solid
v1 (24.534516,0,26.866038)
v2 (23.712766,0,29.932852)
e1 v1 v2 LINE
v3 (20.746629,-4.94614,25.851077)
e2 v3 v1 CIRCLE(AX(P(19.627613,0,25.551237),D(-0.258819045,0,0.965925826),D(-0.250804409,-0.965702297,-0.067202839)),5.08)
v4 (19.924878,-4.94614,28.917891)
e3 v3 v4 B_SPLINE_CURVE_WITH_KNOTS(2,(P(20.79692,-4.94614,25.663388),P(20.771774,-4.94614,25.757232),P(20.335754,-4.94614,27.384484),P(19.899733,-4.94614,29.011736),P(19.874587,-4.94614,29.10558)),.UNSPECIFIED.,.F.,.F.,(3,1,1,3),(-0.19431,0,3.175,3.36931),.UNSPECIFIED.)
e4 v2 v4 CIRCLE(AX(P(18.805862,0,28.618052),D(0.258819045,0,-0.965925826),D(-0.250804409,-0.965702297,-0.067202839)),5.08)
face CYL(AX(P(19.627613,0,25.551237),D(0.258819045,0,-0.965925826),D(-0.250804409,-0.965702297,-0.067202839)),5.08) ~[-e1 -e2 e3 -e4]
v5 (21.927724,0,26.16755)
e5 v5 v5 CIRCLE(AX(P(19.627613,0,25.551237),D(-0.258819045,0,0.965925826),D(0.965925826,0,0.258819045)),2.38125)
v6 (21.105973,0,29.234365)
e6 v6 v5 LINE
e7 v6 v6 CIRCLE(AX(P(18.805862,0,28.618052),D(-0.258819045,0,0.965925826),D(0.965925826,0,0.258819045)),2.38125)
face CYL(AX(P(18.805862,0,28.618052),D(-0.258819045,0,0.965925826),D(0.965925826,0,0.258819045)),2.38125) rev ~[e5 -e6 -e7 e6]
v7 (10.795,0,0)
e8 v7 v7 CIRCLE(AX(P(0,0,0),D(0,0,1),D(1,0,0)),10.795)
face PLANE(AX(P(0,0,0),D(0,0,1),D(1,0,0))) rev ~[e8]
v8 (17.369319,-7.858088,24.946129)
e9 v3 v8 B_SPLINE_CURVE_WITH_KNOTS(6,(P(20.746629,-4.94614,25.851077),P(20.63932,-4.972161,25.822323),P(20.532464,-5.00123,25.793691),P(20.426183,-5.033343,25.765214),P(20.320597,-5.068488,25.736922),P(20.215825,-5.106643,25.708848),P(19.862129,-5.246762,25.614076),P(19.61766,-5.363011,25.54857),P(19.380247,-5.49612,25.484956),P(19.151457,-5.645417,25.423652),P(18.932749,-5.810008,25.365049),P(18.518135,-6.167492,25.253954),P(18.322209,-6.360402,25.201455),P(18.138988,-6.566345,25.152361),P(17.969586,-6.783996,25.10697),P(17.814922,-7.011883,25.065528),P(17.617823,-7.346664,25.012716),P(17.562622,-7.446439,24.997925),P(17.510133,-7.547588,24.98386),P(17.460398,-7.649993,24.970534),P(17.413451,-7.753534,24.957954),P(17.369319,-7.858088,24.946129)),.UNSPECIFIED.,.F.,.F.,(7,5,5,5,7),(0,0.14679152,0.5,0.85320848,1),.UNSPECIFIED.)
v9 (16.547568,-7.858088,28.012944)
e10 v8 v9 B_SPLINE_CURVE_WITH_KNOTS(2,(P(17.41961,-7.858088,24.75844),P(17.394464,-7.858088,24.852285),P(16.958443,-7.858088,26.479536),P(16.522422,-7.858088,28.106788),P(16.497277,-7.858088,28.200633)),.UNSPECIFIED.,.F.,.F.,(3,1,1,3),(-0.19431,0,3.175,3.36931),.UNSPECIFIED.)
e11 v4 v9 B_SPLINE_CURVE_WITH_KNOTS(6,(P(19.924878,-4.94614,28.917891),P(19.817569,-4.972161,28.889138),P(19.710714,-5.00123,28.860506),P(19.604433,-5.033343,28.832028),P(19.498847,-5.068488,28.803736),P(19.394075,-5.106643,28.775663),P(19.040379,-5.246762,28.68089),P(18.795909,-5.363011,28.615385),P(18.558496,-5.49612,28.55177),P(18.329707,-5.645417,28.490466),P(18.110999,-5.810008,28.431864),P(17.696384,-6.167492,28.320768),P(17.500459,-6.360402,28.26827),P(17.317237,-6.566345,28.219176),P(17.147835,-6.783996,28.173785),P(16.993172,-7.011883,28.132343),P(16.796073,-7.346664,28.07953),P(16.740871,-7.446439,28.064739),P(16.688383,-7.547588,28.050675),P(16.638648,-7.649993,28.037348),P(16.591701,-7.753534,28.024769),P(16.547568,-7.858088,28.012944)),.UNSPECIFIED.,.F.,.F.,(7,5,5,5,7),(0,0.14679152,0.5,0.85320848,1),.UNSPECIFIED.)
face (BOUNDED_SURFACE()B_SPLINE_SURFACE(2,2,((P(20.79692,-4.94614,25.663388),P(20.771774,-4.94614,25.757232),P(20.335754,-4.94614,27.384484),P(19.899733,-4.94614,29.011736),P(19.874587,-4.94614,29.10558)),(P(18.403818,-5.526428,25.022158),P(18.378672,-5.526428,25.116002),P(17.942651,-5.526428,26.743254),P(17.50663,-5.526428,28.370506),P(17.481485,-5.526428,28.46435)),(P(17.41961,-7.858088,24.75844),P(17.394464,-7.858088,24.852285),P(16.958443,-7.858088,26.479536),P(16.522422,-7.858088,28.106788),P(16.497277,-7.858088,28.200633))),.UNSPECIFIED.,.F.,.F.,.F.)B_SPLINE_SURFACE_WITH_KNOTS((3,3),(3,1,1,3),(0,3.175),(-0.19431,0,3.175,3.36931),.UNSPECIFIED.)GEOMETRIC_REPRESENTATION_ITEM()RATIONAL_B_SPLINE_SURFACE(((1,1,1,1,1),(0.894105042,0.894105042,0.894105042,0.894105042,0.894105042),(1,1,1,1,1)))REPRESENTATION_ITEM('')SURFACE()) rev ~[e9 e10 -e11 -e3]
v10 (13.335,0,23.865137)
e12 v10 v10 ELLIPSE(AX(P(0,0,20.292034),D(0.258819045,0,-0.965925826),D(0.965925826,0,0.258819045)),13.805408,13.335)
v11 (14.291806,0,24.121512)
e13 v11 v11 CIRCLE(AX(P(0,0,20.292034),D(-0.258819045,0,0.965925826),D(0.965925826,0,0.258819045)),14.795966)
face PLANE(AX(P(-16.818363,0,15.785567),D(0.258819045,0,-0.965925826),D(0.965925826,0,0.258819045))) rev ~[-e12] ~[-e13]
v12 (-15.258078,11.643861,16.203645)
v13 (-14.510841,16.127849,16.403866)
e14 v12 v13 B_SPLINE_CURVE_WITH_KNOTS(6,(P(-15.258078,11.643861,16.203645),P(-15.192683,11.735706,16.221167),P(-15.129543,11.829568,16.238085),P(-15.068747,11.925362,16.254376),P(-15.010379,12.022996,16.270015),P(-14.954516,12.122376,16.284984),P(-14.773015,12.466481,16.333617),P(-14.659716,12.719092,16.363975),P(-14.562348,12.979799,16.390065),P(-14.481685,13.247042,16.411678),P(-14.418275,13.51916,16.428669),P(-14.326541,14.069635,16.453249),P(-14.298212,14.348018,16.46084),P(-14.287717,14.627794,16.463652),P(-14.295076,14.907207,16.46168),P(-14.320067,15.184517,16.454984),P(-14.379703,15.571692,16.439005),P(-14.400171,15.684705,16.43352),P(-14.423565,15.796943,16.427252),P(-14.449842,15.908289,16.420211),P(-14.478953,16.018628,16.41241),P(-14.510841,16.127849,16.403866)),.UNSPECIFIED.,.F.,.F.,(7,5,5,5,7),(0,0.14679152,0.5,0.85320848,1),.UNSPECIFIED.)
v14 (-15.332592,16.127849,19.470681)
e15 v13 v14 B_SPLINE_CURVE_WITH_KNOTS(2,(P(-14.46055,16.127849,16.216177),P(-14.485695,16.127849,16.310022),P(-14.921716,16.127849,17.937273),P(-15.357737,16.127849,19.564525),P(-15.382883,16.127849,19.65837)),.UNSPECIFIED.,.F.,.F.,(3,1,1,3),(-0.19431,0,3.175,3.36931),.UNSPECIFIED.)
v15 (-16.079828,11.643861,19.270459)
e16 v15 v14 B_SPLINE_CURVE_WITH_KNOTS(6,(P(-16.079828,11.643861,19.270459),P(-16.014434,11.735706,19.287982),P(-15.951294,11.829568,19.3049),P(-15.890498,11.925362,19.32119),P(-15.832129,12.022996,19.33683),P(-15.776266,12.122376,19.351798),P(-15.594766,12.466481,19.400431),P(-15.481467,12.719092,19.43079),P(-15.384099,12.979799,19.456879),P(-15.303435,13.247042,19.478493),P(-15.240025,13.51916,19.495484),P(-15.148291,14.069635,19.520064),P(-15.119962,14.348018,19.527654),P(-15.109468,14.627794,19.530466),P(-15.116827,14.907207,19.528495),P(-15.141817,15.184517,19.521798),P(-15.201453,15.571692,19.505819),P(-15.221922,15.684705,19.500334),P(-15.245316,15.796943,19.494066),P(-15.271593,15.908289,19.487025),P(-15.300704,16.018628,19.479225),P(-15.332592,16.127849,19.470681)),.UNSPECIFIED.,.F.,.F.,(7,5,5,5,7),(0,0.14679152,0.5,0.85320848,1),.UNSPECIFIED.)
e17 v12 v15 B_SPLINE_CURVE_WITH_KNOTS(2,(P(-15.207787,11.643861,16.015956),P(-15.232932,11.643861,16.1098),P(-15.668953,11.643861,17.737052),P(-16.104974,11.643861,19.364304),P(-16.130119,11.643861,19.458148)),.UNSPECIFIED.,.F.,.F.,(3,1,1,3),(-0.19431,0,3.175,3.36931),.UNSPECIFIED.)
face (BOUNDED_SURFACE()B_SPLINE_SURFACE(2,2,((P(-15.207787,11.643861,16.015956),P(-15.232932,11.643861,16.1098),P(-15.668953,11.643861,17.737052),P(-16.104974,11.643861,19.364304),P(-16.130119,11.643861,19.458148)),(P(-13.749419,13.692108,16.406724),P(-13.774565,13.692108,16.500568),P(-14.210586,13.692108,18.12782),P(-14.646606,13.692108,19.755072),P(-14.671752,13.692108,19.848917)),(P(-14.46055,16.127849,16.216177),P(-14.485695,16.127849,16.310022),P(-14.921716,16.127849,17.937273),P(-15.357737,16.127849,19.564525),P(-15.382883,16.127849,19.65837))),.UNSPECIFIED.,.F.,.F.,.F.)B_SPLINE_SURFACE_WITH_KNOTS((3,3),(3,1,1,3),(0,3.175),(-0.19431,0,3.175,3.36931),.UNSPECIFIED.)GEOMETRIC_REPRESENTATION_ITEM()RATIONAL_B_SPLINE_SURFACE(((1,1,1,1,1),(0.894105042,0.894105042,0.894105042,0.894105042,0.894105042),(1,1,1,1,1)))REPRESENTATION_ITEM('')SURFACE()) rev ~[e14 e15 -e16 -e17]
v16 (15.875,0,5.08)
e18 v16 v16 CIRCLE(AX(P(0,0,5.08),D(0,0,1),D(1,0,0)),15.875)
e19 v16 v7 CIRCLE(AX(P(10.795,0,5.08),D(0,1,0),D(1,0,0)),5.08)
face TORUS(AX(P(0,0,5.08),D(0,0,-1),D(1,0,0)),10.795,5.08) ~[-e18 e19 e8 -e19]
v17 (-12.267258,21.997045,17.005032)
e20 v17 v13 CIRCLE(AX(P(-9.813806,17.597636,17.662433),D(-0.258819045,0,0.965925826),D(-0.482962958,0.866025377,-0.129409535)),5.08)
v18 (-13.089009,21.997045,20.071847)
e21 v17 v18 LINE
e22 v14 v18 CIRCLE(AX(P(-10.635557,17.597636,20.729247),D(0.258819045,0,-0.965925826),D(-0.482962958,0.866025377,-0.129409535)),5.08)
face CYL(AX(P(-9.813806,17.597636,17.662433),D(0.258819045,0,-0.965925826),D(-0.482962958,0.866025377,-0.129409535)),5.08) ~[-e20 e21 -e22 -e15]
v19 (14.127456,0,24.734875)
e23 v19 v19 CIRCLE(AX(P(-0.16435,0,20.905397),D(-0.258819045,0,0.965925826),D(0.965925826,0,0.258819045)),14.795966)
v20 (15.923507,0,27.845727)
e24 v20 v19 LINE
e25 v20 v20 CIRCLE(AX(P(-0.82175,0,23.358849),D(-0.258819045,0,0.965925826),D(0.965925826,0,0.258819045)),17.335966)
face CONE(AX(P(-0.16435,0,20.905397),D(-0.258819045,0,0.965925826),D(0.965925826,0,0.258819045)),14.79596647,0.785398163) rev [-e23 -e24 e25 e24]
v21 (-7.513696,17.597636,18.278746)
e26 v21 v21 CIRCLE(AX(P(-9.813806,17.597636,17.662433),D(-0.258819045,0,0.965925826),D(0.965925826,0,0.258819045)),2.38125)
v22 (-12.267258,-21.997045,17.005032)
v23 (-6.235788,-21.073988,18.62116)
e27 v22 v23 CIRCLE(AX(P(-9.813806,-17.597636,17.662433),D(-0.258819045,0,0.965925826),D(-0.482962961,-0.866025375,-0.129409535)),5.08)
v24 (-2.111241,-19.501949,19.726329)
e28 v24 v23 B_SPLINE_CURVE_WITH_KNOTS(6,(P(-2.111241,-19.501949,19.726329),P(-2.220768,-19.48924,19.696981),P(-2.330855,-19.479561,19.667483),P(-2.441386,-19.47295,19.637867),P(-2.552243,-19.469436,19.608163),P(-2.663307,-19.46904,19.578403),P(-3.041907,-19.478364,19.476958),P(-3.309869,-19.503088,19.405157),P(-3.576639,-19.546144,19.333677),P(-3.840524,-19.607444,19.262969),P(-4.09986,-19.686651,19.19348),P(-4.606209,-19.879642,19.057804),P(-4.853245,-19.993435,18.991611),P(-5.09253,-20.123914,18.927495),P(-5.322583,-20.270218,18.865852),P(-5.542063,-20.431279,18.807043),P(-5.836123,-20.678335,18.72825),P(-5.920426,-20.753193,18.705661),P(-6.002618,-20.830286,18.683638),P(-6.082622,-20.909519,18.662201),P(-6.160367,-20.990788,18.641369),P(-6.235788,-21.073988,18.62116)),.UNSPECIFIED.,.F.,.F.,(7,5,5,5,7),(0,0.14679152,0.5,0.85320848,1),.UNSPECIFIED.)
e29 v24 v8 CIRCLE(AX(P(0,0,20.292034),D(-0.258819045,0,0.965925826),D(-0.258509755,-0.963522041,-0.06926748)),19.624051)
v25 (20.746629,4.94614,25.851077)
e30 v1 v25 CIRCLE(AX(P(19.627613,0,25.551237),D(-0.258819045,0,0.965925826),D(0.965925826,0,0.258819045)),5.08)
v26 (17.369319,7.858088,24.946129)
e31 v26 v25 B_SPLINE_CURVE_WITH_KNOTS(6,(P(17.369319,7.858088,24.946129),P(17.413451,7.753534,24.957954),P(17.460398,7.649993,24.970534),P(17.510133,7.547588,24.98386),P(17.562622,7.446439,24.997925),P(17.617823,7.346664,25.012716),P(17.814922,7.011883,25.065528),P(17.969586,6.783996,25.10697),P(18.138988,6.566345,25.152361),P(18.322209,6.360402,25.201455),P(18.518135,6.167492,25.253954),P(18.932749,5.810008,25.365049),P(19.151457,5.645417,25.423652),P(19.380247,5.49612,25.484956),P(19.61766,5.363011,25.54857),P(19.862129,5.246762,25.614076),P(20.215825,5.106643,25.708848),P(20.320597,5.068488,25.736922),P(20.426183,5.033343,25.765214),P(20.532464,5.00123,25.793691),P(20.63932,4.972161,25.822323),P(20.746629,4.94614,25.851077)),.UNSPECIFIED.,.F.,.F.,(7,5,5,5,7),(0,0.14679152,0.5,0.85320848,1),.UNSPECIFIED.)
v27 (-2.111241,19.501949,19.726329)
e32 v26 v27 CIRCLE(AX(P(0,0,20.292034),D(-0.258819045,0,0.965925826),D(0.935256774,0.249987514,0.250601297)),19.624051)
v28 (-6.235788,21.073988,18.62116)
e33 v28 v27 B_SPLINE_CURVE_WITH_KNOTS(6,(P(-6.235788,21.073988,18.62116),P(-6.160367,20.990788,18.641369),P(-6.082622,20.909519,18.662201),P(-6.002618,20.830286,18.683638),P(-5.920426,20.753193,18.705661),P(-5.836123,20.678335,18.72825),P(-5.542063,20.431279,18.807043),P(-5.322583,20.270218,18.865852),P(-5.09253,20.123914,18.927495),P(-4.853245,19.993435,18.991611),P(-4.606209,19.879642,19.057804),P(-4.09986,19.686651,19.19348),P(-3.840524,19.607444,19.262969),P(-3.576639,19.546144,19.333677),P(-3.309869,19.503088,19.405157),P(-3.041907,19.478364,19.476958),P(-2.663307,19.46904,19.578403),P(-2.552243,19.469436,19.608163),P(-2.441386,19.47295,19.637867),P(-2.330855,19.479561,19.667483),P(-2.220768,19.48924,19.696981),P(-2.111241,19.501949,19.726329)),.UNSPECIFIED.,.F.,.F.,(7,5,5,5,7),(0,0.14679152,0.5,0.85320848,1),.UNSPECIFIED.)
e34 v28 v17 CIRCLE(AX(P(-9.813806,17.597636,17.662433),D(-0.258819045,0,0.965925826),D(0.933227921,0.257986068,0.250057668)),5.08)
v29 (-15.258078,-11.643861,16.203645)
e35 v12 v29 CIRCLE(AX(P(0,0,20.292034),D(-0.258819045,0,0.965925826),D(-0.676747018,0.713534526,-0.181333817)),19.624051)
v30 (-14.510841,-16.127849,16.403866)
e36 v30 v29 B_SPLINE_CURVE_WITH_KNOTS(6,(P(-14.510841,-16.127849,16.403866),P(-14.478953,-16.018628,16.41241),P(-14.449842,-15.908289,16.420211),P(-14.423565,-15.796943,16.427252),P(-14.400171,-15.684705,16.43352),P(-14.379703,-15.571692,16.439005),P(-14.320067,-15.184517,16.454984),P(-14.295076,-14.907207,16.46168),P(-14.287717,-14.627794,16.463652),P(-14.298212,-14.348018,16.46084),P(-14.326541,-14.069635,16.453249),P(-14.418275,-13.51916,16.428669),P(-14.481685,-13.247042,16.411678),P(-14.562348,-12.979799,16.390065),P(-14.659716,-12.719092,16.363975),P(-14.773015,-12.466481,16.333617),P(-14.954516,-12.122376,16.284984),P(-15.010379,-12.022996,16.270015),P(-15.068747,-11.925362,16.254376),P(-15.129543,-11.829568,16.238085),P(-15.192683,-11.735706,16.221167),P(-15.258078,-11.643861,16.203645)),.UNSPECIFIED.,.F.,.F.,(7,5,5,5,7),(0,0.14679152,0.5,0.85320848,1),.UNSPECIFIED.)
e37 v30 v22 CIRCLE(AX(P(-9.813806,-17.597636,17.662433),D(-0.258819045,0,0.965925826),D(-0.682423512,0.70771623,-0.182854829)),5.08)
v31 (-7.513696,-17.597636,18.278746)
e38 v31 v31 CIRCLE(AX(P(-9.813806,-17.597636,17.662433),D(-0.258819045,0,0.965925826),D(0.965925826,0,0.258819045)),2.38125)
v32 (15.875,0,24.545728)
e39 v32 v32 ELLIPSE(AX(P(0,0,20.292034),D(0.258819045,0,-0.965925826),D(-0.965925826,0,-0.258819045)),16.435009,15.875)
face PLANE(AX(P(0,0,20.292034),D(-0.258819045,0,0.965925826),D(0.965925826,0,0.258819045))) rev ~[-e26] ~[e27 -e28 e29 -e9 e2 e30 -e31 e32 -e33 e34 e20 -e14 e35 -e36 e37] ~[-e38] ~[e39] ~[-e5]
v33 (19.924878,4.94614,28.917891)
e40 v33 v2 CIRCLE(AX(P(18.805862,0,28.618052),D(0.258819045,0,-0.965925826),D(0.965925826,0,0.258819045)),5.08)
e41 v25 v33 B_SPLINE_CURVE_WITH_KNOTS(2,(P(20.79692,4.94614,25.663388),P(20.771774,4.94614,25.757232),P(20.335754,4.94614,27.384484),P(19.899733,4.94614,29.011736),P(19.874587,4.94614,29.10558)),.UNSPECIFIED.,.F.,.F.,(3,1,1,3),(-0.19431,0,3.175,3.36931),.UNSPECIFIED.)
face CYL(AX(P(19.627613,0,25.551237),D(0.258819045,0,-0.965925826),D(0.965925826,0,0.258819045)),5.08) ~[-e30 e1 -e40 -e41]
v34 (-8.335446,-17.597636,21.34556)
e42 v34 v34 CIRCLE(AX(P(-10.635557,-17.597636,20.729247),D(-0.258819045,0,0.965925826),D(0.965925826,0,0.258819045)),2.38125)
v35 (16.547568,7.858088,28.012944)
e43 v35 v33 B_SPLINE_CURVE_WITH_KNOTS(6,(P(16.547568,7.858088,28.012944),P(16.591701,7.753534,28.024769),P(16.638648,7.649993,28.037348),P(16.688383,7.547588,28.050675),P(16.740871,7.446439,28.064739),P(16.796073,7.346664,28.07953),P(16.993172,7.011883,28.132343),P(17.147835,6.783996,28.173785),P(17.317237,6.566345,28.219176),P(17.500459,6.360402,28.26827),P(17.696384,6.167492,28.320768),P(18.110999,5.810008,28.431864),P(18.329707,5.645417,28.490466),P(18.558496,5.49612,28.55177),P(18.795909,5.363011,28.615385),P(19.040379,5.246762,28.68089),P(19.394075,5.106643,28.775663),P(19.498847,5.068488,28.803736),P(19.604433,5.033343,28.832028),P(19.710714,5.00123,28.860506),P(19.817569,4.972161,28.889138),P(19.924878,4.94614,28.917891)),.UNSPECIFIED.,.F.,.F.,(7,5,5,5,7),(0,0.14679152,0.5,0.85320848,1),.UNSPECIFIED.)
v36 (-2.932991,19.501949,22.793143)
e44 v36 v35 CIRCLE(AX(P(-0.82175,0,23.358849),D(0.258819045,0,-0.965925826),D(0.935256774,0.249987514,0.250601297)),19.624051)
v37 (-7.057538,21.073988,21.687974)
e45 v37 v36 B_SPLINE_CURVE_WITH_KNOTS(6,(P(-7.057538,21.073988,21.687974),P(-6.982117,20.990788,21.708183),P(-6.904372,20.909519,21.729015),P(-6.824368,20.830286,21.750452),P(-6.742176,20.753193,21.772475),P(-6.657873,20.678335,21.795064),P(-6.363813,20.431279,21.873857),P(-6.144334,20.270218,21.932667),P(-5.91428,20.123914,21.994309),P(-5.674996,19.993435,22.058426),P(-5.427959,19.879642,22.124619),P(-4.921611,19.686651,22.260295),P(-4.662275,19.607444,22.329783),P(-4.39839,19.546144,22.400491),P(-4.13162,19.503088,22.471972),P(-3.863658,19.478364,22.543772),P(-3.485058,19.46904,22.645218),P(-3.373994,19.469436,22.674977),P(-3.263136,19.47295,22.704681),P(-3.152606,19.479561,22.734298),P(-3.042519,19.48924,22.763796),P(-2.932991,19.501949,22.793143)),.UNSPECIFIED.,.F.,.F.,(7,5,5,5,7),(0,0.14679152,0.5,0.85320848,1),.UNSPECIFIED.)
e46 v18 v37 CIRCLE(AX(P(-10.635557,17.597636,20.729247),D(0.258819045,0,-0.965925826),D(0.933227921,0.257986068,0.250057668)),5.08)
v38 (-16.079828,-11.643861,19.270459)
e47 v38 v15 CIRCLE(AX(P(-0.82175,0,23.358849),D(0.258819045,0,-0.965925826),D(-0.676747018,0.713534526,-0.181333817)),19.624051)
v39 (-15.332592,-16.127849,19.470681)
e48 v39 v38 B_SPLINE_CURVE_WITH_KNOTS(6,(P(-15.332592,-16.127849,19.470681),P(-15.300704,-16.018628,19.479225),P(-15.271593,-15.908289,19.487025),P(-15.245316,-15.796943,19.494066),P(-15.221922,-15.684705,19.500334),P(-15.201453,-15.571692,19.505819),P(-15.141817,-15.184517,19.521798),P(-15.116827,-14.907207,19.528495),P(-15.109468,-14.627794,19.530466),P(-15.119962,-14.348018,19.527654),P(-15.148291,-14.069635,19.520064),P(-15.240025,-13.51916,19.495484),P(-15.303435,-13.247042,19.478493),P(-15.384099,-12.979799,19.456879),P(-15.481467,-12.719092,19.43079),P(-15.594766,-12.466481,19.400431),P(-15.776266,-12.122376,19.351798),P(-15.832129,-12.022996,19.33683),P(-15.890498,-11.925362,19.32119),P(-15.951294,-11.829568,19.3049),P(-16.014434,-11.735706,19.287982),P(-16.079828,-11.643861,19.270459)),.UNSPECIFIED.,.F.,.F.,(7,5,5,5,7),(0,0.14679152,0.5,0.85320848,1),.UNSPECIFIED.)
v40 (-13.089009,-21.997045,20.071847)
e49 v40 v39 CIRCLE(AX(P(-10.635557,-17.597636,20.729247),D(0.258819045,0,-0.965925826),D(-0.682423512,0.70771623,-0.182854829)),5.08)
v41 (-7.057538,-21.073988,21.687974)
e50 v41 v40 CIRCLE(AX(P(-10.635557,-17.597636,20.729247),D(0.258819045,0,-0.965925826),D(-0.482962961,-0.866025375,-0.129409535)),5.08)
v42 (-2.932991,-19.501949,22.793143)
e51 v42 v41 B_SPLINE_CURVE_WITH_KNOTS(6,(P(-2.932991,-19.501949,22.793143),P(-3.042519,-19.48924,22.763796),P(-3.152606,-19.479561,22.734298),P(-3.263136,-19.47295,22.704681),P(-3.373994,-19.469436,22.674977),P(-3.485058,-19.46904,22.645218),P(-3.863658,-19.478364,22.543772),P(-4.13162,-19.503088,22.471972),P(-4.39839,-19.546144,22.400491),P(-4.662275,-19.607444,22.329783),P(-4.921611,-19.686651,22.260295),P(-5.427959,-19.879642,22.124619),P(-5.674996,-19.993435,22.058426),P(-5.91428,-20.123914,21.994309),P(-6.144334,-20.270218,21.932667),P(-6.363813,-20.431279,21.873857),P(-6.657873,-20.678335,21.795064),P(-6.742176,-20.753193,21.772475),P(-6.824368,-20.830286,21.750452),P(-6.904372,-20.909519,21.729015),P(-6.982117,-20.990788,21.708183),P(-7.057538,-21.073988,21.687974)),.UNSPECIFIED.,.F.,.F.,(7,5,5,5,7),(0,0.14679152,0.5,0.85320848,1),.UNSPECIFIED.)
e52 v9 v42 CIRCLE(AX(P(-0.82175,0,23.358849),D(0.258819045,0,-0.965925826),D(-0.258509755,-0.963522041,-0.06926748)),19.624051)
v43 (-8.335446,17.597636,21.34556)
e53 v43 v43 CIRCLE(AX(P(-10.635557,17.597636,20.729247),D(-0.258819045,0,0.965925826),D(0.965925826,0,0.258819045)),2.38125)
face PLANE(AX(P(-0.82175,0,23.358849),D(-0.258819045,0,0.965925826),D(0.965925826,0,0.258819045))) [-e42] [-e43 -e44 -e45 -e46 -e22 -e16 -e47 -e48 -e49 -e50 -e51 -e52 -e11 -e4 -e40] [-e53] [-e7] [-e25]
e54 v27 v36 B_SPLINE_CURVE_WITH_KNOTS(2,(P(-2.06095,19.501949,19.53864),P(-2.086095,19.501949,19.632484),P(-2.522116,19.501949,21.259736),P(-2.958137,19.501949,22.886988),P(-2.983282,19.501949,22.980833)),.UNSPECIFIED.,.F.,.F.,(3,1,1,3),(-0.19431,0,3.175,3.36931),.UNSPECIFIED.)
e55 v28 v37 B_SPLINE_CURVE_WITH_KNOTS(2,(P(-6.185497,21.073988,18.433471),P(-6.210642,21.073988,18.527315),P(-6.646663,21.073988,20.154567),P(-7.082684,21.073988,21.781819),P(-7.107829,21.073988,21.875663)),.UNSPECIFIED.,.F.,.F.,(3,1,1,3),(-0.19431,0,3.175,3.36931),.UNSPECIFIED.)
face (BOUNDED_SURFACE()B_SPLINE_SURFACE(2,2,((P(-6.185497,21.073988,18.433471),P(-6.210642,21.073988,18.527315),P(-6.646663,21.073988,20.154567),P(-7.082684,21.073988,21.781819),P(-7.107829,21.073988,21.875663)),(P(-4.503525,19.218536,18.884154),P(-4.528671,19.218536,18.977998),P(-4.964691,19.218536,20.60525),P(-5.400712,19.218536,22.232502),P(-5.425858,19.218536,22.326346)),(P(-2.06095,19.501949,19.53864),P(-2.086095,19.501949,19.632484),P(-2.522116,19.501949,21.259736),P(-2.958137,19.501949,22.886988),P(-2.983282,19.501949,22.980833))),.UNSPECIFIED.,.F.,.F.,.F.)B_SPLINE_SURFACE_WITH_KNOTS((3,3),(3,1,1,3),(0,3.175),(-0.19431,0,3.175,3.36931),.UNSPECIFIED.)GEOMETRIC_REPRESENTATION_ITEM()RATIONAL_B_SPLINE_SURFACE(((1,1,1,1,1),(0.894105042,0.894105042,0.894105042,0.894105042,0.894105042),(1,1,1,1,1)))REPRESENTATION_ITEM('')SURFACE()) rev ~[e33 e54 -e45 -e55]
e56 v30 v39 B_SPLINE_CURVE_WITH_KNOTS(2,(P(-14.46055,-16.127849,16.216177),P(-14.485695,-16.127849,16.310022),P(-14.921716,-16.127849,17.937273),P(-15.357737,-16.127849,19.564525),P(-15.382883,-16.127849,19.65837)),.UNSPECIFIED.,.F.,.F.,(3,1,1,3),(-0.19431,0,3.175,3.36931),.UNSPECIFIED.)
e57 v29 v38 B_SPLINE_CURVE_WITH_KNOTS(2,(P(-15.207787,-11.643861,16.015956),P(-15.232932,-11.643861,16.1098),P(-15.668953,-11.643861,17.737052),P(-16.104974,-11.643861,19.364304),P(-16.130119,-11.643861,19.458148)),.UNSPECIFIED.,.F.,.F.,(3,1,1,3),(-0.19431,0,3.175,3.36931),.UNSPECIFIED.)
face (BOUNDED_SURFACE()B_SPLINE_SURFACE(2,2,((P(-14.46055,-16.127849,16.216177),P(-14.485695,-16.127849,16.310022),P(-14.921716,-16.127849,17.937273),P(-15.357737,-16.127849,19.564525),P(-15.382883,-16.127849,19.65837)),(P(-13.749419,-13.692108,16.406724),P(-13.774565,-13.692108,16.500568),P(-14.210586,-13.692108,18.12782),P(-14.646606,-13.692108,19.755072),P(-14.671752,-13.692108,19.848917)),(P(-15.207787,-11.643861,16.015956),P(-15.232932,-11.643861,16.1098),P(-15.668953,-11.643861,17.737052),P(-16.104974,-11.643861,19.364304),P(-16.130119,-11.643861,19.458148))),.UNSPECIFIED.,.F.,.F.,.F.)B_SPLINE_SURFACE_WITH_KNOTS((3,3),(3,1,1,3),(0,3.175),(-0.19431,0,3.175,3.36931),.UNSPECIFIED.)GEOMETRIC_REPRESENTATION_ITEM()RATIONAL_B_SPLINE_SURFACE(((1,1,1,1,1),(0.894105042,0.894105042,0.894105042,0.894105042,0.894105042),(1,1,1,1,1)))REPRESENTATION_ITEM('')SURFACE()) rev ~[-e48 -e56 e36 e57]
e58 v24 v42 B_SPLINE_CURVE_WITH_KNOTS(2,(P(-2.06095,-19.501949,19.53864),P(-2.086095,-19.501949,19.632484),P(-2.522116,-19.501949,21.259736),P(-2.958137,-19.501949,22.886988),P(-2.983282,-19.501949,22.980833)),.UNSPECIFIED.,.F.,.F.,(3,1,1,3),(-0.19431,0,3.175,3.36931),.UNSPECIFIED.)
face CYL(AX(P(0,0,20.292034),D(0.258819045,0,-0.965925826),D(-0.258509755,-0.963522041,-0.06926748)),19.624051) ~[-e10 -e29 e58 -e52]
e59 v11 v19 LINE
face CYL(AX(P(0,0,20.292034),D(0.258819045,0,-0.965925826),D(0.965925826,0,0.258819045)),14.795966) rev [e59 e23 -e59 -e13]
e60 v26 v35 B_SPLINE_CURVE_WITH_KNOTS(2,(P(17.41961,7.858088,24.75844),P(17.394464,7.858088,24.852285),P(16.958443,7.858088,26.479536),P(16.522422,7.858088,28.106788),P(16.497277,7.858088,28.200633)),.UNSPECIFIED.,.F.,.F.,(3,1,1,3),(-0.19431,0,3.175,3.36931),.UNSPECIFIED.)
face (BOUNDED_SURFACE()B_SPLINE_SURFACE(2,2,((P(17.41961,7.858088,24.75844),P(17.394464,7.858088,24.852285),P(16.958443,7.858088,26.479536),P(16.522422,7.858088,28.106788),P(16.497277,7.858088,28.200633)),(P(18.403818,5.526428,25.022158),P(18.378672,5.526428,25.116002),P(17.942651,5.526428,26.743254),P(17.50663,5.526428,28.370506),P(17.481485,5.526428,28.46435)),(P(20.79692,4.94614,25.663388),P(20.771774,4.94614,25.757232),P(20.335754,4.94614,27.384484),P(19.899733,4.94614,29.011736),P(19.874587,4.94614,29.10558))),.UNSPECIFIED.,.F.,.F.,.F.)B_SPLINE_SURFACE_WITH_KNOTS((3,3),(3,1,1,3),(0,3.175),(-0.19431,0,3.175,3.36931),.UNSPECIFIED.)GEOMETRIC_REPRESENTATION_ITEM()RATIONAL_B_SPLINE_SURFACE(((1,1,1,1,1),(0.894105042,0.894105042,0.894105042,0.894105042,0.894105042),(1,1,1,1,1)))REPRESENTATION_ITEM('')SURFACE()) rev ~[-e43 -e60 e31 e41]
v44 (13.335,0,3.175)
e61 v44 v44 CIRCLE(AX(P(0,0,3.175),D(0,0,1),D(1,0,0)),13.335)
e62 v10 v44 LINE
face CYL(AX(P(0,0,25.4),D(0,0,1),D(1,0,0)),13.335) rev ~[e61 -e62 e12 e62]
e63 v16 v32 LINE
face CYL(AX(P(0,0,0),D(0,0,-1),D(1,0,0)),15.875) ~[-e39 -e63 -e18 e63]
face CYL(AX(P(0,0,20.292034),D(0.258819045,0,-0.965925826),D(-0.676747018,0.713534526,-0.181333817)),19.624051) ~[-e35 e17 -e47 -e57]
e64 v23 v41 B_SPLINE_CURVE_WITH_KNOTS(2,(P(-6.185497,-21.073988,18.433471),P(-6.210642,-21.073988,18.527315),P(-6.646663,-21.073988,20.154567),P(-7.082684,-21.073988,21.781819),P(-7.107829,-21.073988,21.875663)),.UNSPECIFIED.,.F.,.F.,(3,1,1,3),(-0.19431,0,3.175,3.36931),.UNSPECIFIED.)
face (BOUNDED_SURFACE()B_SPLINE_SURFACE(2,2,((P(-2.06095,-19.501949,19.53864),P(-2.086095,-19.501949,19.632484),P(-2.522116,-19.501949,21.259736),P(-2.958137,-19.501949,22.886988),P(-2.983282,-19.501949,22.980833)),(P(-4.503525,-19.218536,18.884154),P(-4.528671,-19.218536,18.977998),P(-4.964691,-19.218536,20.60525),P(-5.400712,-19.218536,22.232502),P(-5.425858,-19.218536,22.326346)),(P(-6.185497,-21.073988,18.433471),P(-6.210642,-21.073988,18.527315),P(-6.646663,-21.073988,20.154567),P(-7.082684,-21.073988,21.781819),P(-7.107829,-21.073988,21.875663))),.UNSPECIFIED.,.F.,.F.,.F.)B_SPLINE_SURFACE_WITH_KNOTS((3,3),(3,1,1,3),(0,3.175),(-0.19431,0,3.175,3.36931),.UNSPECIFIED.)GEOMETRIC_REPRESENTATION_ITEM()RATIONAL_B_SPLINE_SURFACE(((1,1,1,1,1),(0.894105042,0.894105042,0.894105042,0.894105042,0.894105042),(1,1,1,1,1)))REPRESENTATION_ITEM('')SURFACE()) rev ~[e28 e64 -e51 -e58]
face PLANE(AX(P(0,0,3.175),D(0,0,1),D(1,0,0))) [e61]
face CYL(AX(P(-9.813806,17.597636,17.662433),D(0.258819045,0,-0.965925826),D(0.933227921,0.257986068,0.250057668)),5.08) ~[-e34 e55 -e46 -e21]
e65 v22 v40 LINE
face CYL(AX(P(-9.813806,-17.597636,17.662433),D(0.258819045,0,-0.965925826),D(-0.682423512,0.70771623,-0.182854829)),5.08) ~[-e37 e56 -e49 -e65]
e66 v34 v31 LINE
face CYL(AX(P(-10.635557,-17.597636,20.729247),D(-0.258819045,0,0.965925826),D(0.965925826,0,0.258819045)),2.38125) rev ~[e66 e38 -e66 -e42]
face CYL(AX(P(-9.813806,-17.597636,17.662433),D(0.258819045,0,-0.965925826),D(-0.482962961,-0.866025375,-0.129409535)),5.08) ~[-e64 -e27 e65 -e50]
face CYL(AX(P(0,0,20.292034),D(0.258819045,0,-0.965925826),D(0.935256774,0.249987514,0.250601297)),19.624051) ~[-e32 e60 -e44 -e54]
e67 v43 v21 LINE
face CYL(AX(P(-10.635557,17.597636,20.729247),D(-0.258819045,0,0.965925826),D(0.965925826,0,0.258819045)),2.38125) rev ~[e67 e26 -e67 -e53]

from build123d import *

# Parameters (mm, degrees)
F0_R      = 15.875
F1_DEPTH  = 25.4
F2_R      = 13.335
F3_DEPTH  = 22.225
F5_DEPTH  = 63.5
F6_R      = 25.4
F6_R_2    = 14.7959664705
F7_DEPTH  = 3.175
F8_R      = 2.38125
F9_DEPTH  = 25.4
F10_R     = 5.08
F12_DEPTH = 15.876
F13_SIZE  = 2.54
F14_R     = 5.08


with BuildPart() as f1:
    # F0 (on Top) → F1 (new body)
    with BuildSketch(Plane.XY):
        Circle(F0_R)
    extrude(amount=F1_DEPTH)

    # F2 (on face) → F3 (cut)
    with BuildSketch(Plane.XY.offset(25.4)):
        Circle(F2_R)
    extrude(amount=-F3_DEPTH, mode=Mode.SUBTRACT)

    # F4 (on Front) → F5 (cut, symmetric)
    with BuildSketch(Plane.XZ):
        Polygon((19.0631877631, 25.4), (-16.8183632195, 25.4), (-16.8183632195, 15.785567391), align=None)
    extrude(amount=F5_DEPTH, both=True, mode=Mode.SUBTRACT)

    # F6 (on face) → F7 (join)
    with BuildSketch(Plane(origin=(-5.0730085584, 0, 18.9327256873), x_dir=(0.9659258263, 0, 0.2588190451), z_dir=(-0.2588190451, 0, 0.9659258263))):
        with Locations((5.2519649236, 0)):
            Circle(F6_R)
        with Locations((5.2519649236, 0)):
            Circle(F6_R_2, mode=Mode.SUBTRACT)
    extrude(amount=F7_DEPTH)

    # F8 (on face) → F9 (cut)
    with BuildSketch(Plane(origin=(-5.8947590266, 0, 21.9995401858), x_dir=(0.9659258263, 0, 0.2588190451), z_dir=(-0.2588190451, 0, 0.9659258263))):
        with BuildLine():
            ThreePointArc((23.1907149236, 0), (25.5719649236, -2.38125), (27.9532149236, 0))
            ThreePointArc((27.9532149236, 0), (25.5719649236, 2.38125), (23.1907149236, 0))
        make_face()
        with Locations((-4.9080350764, 17.5976362049)):
            Circle(F8_R)
        with Locations((-4.9080350764, -17.5976362049)):
            Circle(F8_R)
    extrude(amount=-F9_DEPTH, mode=Mode.SUBTRACT)

    # F10
    f10_edges = [f1.edges().sort_by_distance(p)[0] for p in [
        (-15.875, 0, 0),
    ]]
    fillet(f10_edges, radius=F10_R)

    # F11 (on face) → F12 (cut, through all)
    with BuildSketch(Plane(origin=(-5.0730085584, 0, 18.9327256873), x_dir=(0.9659258263, 0, 0.2588190451), z_dir=(0.2588190451, 0, -0.9659258263))):
        with BuildLine():
            ThreePointArc((24.2529336259, -4.9057676704), (15.0639903014, -16.9949264796), (0, -18.908205428))
            ThreePointArc((0, -18.908205428), (-2.9619801154, -22.2901057135), (-7.4480353128, -21.9970451197))
            ThreePointArc((-7.4480353128, -21.9970451197), (17.9519648054, -21.9970453243), (30.6519649236, 0))
            ThreePointArc((30.6519649236, 0), (28.6627351357, -4.0315678707), (24.2529336259, -4.9057676704))
        make_face()
        with BuildLine():
            ThreePointArc((-7.4480353296, 21.99704511), (-20.1480350764, -9.7e-09), (-7.4480353128, -21.9970451197))
            ThreePointArc((-7.4480353128, -21.9970451197), (-9.9448603933, -18.2585376552), (-8.4970388552, -14.0024377576))
            ThreePointArc((-8.4970388552, -14.0024377576), (-14.3720858322, 0), (-8.4970388552, 14.0024377576))
            ThreePointArc((-8.4970388552, 14.0024377576), (-9.9448603946, 18.2585376456), (-7.4480353296, 21.99704511))
        make_face()
        with BuildLine():
            ThreePointArc((30.6519649236, 0), (17.951964797, 21.9970453292), (-7.4480353296, 21.99704511))
            ThreePointArc((-7.4480353296, 21.99704511), (-2.9619801244, 22.2901057172), (0, 18.908205428))
            ThreePointArc((0, 18.908205428), (15.0639903014, 16.9949264796), (24.2529336259, 4.9057676704))
            ThreePointArc((24.2529336259, 4.9057676704), (28.6627351357, 4.0315678707), (30.6519649236, 0))
        make_face()
    extrude(amount=-F12_DEPTH, mode=Mode.SUBTRACT)

    # F13
    f13_edges = [f1.edges().sort_by_distance(p)[0] for p in [
        (-15.113557, 0, 19.529371),
    ]]
    chamfer(f13_edges, length=F13_SIZE)

    # F14
    f14_edges = [f1.edges().sort_by_distance(p)[0] for p in [
        (-5.483884, -18.908205, 20.466133),
        (-13.691393, -14.002438, 18.266937),
        (-13.691393, 14.002438, 18.266937),
        (-5.483884, 18.908205, 20.466133),
        (17.942651, 4.905768, 26.743254),
        (17.942651, -4.905768, 26.743254),
    ]]
    fillet(f14_edges, radius=F14_R)


solid = f1.part
